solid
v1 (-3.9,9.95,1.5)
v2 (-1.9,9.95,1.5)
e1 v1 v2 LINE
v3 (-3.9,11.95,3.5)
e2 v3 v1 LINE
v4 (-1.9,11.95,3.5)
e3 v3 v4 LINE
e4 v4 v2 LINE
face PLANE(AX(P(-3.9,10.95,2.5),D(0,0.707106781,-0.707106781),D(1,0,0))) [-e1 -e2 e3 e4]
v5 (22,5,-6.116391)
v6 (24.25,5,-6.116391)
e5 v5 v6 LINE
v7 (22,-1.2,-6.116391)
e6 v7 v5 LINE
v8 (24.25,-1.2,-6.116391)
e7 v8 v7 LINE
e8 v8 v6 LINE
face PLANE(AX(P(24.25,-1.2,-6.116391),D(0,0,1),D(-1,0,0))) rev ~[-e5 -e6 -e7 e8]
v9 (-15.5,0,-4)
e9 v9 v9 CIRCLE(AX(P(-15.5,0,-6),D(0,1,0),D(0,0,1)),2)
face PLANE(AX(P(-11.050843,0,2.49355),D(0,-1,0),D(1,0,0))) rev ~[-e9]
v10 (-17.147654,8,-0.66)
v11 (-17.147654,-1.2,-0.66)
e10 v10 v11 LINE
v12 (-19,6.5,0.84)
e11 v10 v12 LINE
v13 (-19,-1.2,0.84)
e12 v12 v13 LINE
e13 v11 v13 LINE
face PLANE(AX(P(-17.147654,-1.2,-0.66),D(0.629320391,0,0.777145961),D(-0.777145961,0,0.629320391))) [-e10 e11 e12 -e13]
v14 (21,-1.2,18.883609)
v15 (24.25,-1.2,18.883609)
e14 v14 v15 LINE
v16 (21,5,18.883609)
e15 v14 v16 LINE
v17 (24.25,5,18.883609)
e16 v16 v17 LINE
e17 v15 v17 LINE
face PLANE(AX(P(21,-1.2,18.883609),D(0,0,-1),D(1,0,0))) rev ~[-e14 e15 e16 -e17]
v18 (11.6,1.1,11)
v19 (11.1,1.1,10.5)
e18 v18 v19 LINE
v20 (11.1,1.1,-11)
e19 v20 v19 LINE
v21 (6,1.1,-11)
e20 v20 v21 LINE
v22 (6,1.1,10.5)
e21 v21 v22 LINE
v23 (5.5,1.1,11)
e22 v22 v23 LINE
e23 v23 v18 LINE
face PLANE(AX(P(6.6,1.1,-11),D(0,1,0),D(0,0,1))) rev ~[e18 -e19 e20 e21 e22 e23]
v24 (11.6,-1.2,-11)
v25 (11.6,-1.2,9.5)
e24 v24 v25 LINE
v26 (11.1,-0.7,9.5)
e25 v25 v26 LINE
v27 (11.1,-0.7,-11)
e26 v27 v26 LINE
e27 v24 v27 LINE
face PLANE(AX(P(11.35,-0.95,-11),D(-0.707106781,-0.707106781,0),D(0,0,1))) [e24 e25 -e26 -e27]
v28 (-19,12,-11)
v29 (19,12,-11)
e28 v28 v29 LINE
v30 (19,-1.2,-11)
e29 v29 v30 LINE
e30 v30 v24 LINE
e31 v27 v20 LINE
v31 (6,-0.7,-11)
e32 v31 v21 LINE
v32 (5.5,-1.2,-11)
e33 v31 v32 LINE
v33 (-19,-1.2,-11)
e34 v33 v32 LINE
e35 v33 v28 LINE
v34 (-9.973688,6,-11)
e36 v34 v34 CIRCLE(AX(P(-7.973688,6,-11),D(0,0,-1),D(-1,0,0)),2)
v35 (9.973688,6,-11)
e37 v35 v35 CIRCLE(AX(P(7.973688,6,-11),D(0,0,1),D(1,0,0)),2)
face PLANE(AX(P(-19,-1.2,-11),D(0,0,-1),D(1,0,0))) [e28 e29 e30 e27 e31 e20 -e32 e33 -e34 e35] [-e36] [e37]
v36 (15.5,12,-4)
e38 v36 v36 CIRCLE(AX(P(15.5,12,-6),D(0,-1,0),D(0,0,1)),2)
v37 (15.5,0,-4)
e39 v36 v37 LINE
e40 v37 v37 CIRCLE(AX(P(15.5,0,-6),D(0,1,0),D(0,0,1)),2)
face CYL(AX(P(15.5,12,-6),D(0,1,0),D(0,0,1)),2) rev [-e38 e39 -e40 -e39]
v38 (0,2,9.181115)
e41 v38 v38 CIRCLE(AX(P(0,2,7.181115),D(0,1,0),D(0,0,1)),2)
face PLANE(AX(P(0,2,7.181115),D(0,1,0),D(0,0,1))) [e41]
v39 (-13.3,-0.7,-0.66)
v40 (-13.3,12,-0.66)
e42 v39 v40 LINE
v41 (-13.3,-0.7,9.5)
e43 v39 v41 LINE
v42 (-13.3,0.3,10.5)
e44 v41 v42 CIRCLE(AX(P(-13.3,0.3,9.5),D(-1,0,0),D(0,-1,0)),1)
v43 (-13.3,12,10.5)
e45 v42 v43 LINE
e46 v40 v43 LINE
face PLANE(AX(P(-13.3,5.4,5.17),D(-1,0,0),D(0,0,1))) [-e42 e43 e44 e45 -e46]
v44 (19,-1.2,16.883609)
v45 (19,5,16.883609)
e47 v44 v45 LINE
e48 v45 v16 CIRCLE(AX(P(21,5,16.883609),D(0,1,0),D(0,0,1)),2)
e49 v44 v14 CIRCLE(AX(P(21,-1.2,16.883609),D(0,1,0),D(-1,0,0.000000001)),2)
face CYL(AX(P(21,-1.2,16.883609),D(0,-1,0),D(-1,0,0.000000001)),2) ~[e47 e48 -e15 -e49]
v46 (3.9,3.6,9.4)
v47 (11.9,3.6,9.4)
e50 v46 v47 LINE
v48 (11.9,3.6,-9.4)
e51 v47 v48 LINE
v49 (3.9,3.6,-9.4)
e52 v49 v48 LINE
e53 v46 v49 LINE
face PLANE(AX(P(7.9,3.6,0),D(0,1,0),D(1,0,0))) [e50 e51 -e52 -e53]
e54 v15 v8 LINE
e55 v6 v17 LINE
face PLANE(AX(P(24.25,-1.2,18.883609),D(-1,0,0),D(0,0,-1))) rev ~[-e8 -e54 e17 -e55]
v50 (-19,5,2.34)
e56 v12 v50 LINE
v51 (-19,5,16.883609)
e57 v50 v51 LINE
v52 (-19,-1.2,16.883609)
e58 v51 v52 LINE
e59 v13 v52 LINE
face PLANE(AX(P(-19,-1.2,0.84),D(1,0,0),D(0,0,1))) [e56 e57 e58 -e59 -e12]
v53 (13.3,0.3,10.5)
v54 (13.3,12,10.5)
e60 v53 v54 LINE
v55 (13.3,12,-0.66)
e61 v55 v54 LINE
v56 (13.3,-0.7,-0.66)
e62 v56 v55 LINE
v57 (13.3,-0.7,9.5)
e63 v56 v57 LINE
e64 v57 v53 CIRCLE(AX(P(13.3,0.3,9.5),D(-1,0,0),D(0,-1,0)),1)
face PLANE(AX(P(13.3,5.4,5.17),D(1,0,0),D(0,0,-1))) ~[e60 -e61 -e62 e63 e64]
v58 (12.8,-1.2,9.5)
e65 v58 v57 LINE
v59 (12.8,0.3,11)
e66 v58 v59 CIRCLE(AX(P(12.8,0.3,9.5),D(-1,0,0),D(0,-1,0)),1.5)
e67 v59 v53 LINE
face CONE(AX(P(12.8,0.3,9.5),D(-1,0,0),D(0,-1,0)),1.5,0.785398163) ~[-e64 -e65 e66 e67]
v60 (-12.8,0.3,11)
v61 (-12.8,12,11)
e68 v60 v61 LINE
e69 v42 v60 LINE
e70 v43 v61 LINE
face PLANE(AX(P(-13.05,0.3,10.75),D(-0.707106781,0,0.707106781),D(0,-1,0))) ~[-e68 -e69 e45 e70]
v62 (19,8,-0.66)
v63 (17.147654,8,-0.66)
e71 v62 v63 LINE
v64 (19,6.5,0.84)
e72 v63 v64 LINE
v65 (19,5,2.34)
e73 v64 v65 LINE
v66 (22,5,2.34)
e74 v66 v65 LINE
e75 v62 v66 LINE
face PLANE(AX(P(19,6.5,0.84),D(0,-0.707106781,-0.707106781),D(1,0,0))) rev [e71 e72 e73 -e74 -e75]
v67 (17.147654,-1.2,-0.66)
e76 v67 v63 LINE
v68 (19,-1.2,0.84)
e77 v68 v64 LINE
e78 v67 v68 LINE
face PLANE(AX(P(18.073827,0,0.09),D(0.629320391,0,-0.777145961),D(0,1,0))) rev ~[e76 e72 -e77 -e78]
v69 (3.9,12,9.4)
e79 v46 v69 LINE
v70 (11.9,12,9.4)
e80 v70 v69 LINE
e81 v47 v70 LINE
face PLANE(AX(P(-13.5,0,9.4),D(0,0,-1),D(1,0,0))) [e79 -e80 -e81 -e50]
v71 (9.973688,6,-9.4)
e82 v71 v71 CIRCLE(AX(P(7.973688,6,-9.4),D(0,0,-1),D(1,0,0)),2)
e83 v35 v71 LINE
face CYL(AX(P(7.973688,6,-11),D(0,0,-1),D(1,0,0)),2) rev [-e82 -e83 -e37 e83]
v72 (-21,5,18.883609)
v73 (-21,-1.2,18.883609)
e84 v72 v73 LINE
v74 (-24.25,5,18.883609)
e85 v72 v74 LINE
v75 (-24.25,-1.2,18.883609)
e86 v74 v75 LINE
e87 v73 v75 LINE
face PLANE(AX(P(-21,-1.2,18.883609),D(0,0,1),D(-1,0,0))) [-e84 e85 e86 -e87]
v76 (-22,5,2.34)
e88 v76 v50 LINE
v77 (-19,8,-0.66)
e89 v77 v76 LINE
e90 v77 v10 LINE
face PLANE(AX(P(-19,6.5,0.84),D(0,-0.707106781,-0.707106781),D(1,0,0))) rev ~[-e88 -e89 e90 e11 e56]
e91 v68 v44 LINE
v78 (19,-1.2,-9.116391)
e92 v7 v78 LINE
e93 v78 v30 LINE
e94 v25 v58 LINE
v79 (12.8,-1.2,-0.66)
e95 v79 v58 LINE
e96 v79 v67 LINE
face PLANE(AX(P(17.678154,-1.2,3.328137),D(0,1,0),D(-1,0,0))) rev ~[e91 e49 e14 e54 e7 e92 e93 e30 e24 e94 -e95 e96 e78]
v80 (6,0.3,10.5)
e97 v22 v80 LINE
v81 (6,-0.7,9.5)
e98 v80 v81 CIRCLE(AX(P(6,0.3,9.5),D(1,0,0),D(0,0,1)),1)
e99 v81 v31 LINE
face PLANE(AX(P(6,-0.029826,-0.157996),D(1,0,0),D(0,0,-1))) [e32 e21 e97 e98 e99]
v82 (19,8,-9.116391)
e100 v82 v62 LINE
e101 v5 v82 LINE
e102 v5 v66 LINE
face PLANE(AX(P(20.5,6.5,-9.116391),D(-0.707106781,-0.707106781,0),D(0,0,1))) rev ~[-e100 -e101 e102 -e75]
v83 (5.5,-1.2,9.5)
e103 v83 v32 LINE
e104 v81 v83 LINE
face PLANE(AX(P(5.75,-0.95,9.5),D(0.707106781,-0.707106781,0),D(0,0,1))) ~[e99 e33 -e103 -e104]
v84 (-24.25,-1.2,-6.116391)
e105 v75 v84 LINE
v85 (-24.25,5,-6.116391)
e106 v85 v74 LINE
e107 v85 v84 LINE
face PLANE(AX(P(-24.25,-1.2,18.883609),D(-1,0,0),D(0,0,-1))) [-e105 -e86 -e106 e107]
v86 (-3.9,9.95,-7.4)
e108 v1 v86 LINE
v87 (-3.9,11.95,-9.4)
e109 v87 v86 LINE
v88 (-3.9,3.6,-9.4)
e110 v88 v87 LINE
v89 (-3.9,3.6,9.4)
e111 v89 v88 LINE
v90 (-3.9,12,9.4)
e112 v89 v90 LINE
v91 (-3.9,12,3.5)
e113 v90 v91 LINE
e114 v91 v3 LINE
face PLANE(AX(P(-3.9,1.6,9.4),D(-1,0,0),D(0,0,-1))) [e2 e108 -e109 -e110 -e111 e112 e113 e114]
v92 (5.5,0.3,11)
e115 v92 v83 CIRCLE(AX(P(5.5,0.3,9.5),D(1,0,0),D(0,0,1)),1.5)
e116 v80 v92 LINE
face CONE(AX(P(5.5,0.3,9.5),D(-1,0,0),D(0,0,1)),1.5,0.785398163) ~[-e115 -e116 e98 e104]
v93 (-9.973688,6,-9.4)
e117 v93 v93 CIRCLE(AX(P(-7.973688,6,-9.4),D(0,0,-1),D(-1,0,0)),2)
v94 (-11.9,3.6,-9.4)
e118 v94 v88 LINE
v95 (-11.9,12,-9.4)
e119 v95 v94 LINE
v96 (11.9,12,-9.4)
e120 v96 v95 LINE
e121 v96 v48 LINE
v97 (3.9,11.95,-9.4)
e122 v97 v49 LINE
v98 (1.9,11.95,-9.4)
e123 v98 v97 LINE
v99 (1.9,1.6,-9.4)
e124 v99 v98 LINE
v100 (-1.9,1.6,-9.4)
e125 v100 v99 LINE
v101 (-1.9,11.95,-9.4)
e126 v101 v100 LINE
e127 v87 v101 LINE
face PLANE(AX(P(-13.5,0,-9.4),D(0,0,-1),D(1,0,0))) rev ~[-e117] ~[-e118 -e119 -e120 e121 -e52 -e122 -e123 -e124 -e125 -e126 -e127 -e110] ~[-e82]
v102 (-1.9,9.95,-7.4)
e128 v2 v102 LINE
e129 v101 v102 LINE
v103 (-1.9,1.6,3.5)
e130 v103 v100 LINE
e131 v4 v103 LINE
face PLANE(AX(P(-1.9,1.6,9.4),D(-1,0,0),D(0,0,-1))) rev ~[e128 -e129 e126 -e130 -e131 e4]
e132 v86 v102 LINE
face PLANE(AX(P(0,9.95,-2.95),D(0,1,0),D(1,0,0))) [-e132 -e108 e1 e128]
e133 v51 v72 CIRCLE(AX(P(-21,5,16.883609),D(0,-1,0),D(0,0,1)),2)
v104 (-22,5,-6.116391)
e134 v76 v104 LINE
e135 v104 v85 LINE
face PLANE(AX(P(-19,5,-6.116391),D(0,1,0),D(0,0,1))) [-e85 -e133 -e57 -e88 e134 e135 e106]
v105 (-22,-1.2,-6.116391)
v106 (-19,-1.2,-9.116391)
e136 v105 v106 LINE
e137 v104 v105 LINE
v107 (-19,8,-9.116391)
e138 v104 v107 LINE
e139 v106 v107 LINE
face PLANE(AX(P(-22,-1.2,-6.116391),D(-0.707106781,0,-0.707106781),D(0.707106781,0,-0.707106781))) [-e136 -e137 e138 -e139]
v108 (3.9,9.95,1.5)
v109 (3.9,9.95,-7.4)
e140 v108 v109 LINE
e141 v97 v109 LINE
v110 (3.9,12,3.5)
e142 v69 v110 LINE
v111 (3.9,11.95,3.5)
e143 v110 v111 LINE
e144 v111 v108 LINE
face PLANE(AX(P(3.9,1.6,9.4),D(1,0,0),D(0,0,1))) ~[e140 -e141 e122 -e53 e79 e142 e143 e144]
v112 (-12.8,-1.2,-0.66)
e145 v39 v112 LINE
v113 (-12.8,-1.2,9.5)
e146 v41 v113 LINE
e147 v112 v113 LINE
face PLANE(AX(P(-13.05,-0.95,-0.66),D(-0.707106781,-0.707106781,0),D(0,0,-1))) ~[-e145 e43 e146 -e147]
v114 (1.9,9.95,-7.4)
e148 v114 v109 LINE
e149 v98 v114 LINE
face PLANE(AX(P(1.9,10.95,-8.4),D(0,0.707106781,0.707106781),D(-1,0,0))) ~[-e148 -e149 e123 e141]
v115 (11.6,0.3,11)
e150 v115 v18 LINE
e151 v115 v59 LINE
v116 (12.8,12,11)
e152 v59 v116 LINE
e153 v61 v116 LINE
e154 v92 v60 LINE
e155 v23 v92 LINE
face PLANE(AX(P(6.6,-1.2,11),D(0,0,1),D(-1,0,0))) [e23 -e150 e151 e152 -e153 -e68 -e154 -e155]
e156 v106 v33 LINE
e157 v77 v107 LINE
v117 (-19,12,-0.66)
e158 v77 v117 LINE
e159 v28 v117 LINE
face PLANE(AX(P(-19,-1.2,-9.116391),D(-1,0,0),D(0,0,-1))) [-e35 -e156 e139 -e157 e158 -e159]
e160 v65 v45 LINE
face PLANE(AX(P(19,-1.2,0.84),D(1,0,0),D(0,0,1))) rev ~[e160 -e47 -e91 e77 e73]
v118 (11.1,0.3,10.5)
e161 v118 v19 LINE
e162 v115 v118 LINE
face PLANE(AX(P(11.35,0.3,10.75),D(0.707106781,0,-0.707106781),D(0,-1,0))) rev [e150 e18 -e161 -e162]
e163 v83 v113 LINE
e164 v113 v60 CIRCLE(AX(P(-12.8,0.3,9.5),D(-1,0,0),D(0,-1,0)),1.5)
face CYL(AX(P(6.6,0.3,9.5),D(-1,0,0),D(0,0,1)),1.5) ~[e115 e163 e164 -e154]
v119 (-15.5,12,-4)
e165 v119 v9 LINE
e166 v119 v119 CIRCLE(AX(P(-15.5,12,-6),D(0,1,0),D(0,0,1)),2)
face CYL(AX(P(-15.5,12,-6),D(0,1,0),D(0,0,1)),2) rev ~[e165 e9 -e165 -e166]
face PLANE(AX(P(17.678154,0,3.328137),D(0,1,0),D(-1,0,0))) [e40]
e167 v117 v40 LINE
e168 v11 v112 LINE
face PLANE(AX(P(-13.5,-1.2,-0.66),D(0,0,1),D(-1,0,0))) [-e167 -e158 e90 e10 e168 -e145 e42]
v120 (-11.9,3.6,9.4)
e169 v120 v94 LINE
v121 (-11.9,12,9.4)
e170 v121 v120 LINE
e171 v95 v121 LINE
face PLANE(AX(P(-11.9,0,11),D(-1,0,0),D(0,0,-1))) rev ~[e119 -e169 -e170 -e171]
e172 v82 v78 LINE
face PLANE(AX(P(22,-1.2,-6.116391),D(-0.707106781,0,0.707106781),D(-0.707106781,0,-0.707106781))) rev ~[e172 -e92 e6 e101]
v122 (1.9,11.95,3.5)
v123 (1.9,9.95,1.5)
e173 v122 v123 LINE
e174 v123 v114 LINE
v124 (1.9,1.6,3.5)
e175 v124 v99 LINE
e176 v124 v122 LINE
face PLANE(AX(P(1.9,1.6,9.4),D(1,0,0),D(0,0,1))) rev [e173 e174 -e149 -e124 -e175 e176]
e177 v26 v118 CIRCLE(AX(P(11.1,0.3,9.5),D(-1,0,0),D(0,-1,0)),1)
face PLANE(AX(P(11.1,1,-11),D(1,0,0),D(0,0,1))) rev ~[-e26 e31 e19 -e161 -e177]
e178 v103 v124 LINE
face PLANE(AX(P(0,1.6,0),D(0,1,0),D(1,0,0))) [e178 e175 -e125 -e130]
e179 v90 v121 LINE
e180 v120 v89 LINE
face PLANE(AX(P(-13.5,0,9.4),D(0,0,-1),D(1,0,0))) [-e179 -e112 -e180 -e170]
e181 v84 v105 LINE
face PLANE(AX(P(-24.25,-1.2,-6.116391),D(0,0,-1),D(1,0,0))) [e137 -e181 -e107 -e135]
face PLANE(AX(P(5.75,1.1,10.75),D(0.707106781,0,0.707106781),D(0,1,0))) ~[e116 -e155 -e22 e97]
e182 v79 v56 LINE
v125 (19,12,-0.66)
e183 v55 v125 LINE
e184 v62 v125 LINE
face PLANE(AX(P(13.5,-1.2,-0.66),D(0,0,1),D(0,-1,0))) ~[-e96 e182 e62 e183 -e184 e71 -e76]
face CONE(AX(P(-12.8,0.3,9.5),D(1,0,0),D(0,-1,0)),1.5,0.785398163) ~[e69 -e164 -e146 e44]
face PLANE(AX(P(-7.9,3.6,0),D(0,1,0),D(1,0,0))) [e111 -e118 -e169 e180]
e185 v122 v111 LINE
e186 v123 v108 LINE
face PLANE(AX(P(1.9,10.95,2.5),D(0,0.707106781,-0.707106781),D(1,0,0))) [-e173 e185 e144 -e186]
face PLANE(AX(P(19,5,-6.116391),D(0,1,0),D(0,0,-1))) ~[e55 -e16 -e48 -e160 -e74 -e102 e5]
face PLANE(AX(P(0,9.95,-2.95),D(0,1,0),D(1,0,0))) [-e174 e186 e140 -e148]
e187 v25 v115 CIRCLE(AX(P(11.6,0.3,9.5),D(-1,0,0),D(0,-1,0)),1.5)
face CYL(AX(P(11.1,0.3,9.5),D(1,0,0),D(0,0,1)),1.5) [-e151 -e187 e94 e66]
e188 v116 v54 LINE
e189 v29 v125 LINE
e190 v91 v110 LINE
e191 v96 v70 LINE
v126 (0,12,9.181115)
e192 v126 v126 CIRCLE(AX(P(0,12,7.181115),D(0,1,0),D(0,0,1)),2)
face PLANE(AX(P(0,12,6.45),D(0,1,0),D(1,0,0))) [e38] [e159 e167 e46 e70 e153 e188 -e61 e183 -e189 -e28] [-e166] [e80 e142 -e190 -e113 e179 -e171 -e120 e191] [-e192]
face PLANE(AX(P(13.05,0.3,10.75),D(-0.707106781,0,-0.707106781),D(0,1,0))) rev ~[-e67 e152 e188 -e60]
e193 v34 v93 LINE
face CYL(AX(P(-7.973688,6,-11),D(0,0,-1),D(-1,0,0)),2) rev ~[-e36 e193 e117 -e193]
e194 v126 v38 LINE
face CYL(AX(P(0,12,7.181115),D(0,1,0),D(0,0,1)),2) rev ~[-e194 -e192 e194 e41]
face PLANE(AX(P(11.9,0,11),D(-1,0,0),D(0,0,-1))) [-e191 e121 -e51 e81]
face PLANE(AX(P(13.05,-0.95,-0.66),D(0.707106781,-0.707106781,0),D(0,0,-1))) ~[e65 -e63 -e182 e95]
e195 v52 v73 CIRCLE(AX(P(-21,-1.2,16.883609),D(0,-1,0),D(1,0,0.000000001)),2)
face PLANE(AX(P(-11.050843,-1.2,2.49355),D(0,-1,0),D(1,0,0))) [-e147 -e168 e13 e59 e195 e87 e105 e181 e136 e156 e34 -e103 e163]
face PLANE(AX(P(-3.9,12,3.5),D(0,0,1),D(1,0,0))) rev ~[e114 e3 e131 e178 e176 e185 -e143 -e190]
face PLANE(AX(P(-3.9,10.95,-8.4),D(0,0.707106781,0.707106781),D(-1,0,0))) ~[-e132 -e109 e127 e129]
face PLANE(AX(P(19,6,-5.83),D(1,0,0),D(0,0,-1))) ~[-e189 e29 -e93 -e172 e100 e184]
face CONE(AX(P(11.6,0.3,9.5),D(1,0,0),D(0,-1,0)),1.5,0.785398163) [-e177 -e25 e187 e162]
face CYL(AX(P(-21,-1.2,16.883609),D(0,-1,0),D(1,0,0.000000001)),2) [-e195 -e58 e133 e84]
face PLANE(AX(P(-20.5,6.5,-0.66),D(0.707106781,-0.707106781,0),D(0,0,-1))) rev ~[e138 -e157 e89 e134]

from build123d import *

# Parameters (mm, degrees)
SKETCH1_W                 = 27
SKETCH1_H                 = 22
BOSS_EXTRUDE1_DEPTH       = 12
SHELL1_T                  = -1.6
SKETCH2_W                 = 2
SKETCH2_H                 = 18.8
BOSS_EXTRUDE2_DEPTH       = 10.4
SKETCH4_R                 = 2
CUT_EXTRUDE2_DEPTH        = 9
SKETCH6_W                 = 10.34
SKETCH6_H                 = 12
BOSS_EXTRUDE4_DEPTH       = 5.5
SKETCH7_W                 = 25
SKETCH7_H                 = 5
BOSS_EXTRUDE5_DEPTH       = 5.25
CHAMFER1_SIZE             = 3
SKETCH8_R                 = 2
CUT_EXTRUDE3_DEPTH        = 33.994744773
CHAMFER2_SIZE             = 1.5
CHAMFER2_SIZE2            = 1.852345735
FILLET1_R                 = 2
CHAMFER1_OF_MIRROR1_SIZE  = 3
CHAMFER2_OF_MIRROR1_SIZE2 = 1.5
CHAMFER2_OF_MIRROR1_SIZE  = 1.852345735
FILLET1_OF_MIRROR1_R      = 2
BOSS_EXTRUDE7_START       = 1.2
BOSS_EXTRUDE7_DEPTH       = 1.2
SKETCH13_W                = 4.5
SKETCH13_H                = 22
CUT_EXTRUDE5_DEPTH        = 1
SKETCH17_W                = 11.66
SKETCH17_H                = 13.2
CUT_TOLERANCE_FIX_DEPTH   = 0.2
FILLET2_R                 = 1.5
SKETCH18_W                = 3.8
SKETCH18_H                = 5.9
BOSS_EXTRUDE8_DEPTH       = 10.4
SKETCH11_R                = 2
CUT_EXTRUDE6_DEPTH        = 10
SKETCH19_W                = 8
SKETCH19_H                = 18.8
BOSS_EXTRUDE9_DEPTH       = 2
SKETCH20_W                = 4.5
SKETCH20_H                = 22
CUT_EXTRUDE7_DEPTH        = 0.1
SKETCH21_W                = 7.8
SKETCH21_H                = 12.9
CUT_EXTRUDE8_DEPTH        = 2.05
CHAMFER4_SIZE             = 2
CHAMFER5_SIZE             = 3
TOLERANCE_ADJ_DEPTH       = 0.6
CHAMFER6_SIZE             = 0.5


with BuildPart() as part:
    # Sketch1 → Boss-Extrude1 (new body)
    with BuildSketch(Plane(origin=(0, 0, 0), x_dir=(1, 0, 0), z_dir=(0, 1, 0))):
        Rectangle(SKETCH1_W, SKETCH1_H)
    extrude(amount=BOSS_EXTRUDE1_DEPTH)

    # Shell1
    shell1_openings = [part.faces().sort_by_distance(p)[0] for p in [
        (0, 12, 0),
    ]]
    offset(amount=SHELL1_T, openings=shell1_openings, kind=Kind.INTERSECTION)

    # Sketch2 → Boss-Extrude2 (add)
    with BuildSketch(Plane(origin=(0, 1.6, 0), x_dir=(1, 0, 0), z_dir=(0, 1, 0))):
        with Locations((-2.9, 0)):
            Rectangle(SKETCH2_W, SKETCH2_H)
    boss_extrude2 = extrude(amount=BOSS_EXTRUDE2_DEPTH)

    # Sketch4 → Cut-Extrude2 (cut)
    with BuildSketch(Plane(origin=(0, 0, -11), x_dir=(-1, 0, 0), z_dir=(0, 0, -1))):
        with Locations((7.973688368, 6)):
            Circle(SKETCH4_R)
    cut_extrude2 = extrude(amount=-CUT_EXTRUDE2_DEPTH, mode=Mode.SUBTRACT)

    # Sketch6 → Boss-Extrude4 (add)
    with BuildSketch(Plane.ZY.offset(13.5)):
        with Locations((-5.83, 6)):
            Rectangle(SKETCH6_W, SKETCH6_H)
    boss_extrude4 = extrude(amount=BOSS_EXTRUDE4_DEPTH)

    # Sketch7 → Boss-Extrude5 (add)
    with BuildSketch(Plane.ZY.offset(19)):
        with Locations((6.383608836, 2.5)):
            Rectangle(SKETCH7_W, SKETCH7_H)
    boss_extrude5 = extrude(amount=BOSS_EXTRUDE5_DEPTH)

    # Chamfer1
    chamfer1_edges = [part.edges().sort_by_distance(p)[0] for p in [
        (-19, 2.5, -6.116391164),
    ]]
    chamfer(chamfer1_edges, length=CHAMFER1_SIZE)

    # Sketch8 → Cut-Extrude3 (cut, through all)
    with BuildSketch(Plane(origin=(0, 12, 0), x_dir=(1, 0, 0), z_dir=(0, 1, 0))):
        with Locations(Location((-15.5, 6, 0), (0, 0, 270))):
            Circle(SKETCH8_R)
    cut_extrude3 = extrude(amount=-CUT_EXTRUDE3_DEPTH, mode=Mode.SUBTRACT)

    # Chamfer2
    chamfer2_edges = [part.edges().sort_by_distance(p)[0] for p in [
        (-19, 2.5, -0.66),
    ]]
    chamfer2_side = [part.faces().sort_by_distance(p)[0] for p in [
        (-19, 2.5, 9.111804418),
    ]]
    chamfer(chamfer2_edges, length=CHAMFER2_SIZE, length2=CHAMFER2_SIZE2, reference=chamfer2_side[0])

    # Fillet1
    fillet1_edges = [part.edges().sort_by_distance(p)[0] for p in [
        (-19, 2.5, 18.883608836),
    ]]
    fillet(fillet1_edges, radius=FILLET1_R)

    # Mirror1: Boss-Extrude2, Cut-Extrude2, Boss-Extrude4, Boss-Extrude5, Cut-Extrude3 across plane
    add(boss_extrude2.mirror(Plane.ZY))
    add(cut_extrude2.mirror(Plane.ZY), mode=Mode.SUBTRACT)
    add(boss_extrude4.mirror(Plane.ZY))
    add(boss_extrude5.mirror(Plane.ZY))
    add(cut_extrude3.mirror(Plane.ZY), mode=Mode.SUBTRACT)

    # Chamfer1 of Mirror1
    chamfer1_of_mirror1_edges = [part.edges().sort_by_distance(p)[0] for p in [
        (19, 2.5, -6.116391164),
    ]]
    chamfer(chamfer1_of_mirror1_edges, length=CHAMFER1_OF_MIRROR1_SIZE)

    # Chamfer2 of Mirror1
    chamfer2_of_mirror1_edges = [part.edges().sort_by_distance(p)[0] for p in [
        (19, 2.5, -0.66),
    ]]
    chamfer(chamfer2_of_mirror1_edges, length=CHAMFER2_OF_MIRROR1_SIZE, length2=CHAMFER2_OF_MIRROR1_SIZE2)

    # Fillet1 of Mirror1
    fillet1_of_mirror1_edges = [part.edges().sort_by_distance(p)[0] for p in [
        (19, 2.5, 18.883608836),
    ]]
    fillet(fillet1_of_mirror1_edges, radius=FILLET1_OF_MIRROR1_R)

    # Sketch12 → Boss-Extrude7 (add)
    with BuildSketch(Plane.XZ.offset(BOSS_EXTRUDE7_START)):
        with BuildLine():
            Line((6.6, 11), (-13.5, 11))
            Line((-13.5, 11), (-13.5, -0.66))
            Line((-13.5, -0.66), (-17.147654265, -0.66))
            Line((-17.147654265, -0.66), (-19, 0.84))
            Line((-19, 0.84), (-19, 16.883608836))
            ThreePointArc((-19, 16.883608836), (-19.585786438, 18.297822398), (-21, 18.883608836))
            Line((-21, 18.883608836), (-24.25, 18.883608836))
            Line((-24.25, 18.883608836), (-24.25, -6.116391164))
            Line((-24.25, -6.116391164), (-22, -6.116391164))
            Line((-22, -6.116391164), (-19, -9.116391164))
            Line((-19, -9.116391164), (-19, -11))
            Line((-19, -11), (6.6, -11))
            Line((6.6, -11), (6.6, 11))
        make_face()
        with BuildLine():
            Line((11.1, -11), (11.1, 11))
            Line((11.1, 11), (13.5, 11))
            Line((13.5, 11), (13.5, -0.66))
            Line((13.5, -0.66), (17.147654265, -0.66))
            Line((17.147654265, -0.66), (19, 0.84))
            Line((19, 0.84), (19, 16.883608836))
            ThreePointArc((19, 16.883608836), (19.585786438, 18.297822398), (21, 18.883608836))
            Line((21, 18.883608836), (24.25, 18.883608836))
            Line((24.25, 18.883608836), (24.25, -6.116391164))
            Line((24.25, -6.116391164), (22, -6.116391164))
            Line((22, -6.116391164), (19, -9.116391164))
            Line((19, -9.116391164), (19, -11))
            Line((19, -11), (11.1, -11))
        make_face()
    extrude(amount=-BOSS_EXTRUDE7_DEPTH)

    # Sketch13 → Cut-Extrude5 (cut)
    with BuildSketch(Plane(origin=(0, 0, 0), x_dir=(-1, 0, 0), z_dir=(0, -1, 0))):
        with Locations((-8.85, 0)):
            Rectangle(SKETCH13_W, SKETCH13_H)
    extrude(amount=-CUT_EXTRUDE5_DEPTH, mode=Mode.SUBTRACT)

    # Sketch17 → Cut- tolerance fix (cut)
    with BuildSketch(Plane.ZY.offset(13.5)):
        with Locations((5.17, 5.4)):
            Rectangle(SKETCH17_W, SKETCH17_H)
    cut_tolerance_fix = extrude(amount=-CUT_TOLERANCE_FIX_DEPTH, mode=Mode.SUBTRACT)

    # Mirror2: Cut- tolerance fix across plane
    add(cut_tolerance_fix.mirror(Plane.ZY), mode=Mode.SUBTRACT)

    # Fillet2
    fillet2_edges = [part.edges().sort_by_distance(p)[0] for p in [
        (-3.35, -1.2, 11),
        (12.2, -1.2, 11),
    ]]
    fillet(fillet2_edges, radius=FILLET2_R)

    # Sketch18 → Boss-Extrude8 (add)
    with BuildSketch(Plane(origin=(0, 1.6, 0), x_dir=(1, 0, 0), z_dir=(0, 1, 0))):
        with Locations((0, -6.45)):
            Rectangle(SKETCH18_W, SKETCH18_H)
    extrude(amount=BOSS_EXTRUDE8_DEPTH)

    # Sketch11 → Cut-Extrude6 (cut)
    with BuildSketch(Plane(origin=(0, 12, 0), x_dir=(1, 0, 0), z_dir=(0, 1, 0))):
        with Locations(Location((0, -7.181115317, 0), (0, 0, 270))):
            Circle(SKETCH11_R)
    extrude(amount=-CUT_EXTRUDE6_DEPTH, mode=Mode.SUBTRACT)

    # Sketch19 → Boss-Extrude9 (add)
    with BuildSketch(Plane(origin=(0, 1.6, 0), x_dir=(1, 0, 0), z_dir=(0, 1, 0))):
        with Locations((7.9, 0)):
            Rectangle(SKETCH19_W, SKETCH19_H)
        with Locations((-7.9, 0)):
            Rectangle(SKETCH19_W, SKETCH19_H)
    extrude(amount=BOSS_EXTRUDE9_DEPTH)

    # Sketch20 → Cut-Extrude7 (cut)
    with BuildSketch(Plane.XZ.offset(-1)):
        with Locations((8.85, 0)):
            Rectangle(SKETCH20_W, SKETCH20_H)
    extrude(amount=-CUT_EXTRUDE7_DEPTH, mode=Mode.SUBTRACT)

    # Sketch21 → Cut-Extrude8 (cut)
    with BuildSketch(Plane(origin=(0, 12, 0), x_dir=(1, 0, 0), z_dir=(0, 1, 0))):
        with Locations((0, 2.95)):
            Rectangle(SKETCH21_W, SKETCH21_H)
    extrude(amount=-CUT_EXTRUDE8_DEPTH, mode=Mode.SUBTRACT)

    # Chamfer4
    chamfer4_edges = [part.edges().sort_by_distance(p)[0] for p in [
        (-2.9, 9.95, -9.4),
        (-2.9, 9.95, 3.5),
        (2.9, 9.95, -9.4),
        (2.9, 9.95, 3.5),
    ]]
    chamfer(chamfer4_edges, length=CHAMFER4_SIZE)

    # Chamfer5
    chamfer5_edges = [part.edges().sort_by_distance(p)[0] for p in [
        (-18.073827133, 5, -0.66),
        (-19, 5, -4.888195582),
        (18.073827133, 5, -0.66),
        (19, 5, -4.888195582),
    ]]
    chamfer(chamfer5_edges, length=CHAMFER5_SIZE)

    # Sketch22 → tolerance adj (cut)
    with BuildSketch(Plane(origin=(6.6, 0, 0), x_dir=(0, 0, -1), z_dir=(1, 0, 0))):
        with BuildLine():
            Line((-11, 1.1), (-11, 0.3))
            ThreePointArc((-11, 0.3), (-10.560660172, -0.760660172), (-9.5, -1.2))
            Line((-9.5, -1.2), (11, -1.2))
            Line((11, -1.2), (11, 1.1))
            Line((11, 1.1), (-11, 1.1))
        make_face()
    extrude(amount=-TOLERANCE_ADJ_DEPTH, mode=Mode.SUBTRACT)

    # Chamfer6
    chamfer6_edges = [part.edges().sort_by_distance(p)[0] for p in [
        (-13.3, -1.2, 4.42),
        (13.3, -1.2, 4.42),
        (11.1, -1.2, -0.75),
        (11.1, 0.7, 11),
        (11.1, -0.760660172, 10.560660172),
        (13.3, 6.15, 11),
        (-13.3, 6.15, 11),
        (13.3, -0.760660172, 10.560660172),
        (-13.3, -0.760660172, 10.560660172),
        (6, -1.2, -0.75),
        (6, -0.760660172, 10.560660172),
        (6, 0.7, 11),
    ]]
    chamfer(chamfer6_edges, length=CHAMFER6_SIZE)


solid = part.part
